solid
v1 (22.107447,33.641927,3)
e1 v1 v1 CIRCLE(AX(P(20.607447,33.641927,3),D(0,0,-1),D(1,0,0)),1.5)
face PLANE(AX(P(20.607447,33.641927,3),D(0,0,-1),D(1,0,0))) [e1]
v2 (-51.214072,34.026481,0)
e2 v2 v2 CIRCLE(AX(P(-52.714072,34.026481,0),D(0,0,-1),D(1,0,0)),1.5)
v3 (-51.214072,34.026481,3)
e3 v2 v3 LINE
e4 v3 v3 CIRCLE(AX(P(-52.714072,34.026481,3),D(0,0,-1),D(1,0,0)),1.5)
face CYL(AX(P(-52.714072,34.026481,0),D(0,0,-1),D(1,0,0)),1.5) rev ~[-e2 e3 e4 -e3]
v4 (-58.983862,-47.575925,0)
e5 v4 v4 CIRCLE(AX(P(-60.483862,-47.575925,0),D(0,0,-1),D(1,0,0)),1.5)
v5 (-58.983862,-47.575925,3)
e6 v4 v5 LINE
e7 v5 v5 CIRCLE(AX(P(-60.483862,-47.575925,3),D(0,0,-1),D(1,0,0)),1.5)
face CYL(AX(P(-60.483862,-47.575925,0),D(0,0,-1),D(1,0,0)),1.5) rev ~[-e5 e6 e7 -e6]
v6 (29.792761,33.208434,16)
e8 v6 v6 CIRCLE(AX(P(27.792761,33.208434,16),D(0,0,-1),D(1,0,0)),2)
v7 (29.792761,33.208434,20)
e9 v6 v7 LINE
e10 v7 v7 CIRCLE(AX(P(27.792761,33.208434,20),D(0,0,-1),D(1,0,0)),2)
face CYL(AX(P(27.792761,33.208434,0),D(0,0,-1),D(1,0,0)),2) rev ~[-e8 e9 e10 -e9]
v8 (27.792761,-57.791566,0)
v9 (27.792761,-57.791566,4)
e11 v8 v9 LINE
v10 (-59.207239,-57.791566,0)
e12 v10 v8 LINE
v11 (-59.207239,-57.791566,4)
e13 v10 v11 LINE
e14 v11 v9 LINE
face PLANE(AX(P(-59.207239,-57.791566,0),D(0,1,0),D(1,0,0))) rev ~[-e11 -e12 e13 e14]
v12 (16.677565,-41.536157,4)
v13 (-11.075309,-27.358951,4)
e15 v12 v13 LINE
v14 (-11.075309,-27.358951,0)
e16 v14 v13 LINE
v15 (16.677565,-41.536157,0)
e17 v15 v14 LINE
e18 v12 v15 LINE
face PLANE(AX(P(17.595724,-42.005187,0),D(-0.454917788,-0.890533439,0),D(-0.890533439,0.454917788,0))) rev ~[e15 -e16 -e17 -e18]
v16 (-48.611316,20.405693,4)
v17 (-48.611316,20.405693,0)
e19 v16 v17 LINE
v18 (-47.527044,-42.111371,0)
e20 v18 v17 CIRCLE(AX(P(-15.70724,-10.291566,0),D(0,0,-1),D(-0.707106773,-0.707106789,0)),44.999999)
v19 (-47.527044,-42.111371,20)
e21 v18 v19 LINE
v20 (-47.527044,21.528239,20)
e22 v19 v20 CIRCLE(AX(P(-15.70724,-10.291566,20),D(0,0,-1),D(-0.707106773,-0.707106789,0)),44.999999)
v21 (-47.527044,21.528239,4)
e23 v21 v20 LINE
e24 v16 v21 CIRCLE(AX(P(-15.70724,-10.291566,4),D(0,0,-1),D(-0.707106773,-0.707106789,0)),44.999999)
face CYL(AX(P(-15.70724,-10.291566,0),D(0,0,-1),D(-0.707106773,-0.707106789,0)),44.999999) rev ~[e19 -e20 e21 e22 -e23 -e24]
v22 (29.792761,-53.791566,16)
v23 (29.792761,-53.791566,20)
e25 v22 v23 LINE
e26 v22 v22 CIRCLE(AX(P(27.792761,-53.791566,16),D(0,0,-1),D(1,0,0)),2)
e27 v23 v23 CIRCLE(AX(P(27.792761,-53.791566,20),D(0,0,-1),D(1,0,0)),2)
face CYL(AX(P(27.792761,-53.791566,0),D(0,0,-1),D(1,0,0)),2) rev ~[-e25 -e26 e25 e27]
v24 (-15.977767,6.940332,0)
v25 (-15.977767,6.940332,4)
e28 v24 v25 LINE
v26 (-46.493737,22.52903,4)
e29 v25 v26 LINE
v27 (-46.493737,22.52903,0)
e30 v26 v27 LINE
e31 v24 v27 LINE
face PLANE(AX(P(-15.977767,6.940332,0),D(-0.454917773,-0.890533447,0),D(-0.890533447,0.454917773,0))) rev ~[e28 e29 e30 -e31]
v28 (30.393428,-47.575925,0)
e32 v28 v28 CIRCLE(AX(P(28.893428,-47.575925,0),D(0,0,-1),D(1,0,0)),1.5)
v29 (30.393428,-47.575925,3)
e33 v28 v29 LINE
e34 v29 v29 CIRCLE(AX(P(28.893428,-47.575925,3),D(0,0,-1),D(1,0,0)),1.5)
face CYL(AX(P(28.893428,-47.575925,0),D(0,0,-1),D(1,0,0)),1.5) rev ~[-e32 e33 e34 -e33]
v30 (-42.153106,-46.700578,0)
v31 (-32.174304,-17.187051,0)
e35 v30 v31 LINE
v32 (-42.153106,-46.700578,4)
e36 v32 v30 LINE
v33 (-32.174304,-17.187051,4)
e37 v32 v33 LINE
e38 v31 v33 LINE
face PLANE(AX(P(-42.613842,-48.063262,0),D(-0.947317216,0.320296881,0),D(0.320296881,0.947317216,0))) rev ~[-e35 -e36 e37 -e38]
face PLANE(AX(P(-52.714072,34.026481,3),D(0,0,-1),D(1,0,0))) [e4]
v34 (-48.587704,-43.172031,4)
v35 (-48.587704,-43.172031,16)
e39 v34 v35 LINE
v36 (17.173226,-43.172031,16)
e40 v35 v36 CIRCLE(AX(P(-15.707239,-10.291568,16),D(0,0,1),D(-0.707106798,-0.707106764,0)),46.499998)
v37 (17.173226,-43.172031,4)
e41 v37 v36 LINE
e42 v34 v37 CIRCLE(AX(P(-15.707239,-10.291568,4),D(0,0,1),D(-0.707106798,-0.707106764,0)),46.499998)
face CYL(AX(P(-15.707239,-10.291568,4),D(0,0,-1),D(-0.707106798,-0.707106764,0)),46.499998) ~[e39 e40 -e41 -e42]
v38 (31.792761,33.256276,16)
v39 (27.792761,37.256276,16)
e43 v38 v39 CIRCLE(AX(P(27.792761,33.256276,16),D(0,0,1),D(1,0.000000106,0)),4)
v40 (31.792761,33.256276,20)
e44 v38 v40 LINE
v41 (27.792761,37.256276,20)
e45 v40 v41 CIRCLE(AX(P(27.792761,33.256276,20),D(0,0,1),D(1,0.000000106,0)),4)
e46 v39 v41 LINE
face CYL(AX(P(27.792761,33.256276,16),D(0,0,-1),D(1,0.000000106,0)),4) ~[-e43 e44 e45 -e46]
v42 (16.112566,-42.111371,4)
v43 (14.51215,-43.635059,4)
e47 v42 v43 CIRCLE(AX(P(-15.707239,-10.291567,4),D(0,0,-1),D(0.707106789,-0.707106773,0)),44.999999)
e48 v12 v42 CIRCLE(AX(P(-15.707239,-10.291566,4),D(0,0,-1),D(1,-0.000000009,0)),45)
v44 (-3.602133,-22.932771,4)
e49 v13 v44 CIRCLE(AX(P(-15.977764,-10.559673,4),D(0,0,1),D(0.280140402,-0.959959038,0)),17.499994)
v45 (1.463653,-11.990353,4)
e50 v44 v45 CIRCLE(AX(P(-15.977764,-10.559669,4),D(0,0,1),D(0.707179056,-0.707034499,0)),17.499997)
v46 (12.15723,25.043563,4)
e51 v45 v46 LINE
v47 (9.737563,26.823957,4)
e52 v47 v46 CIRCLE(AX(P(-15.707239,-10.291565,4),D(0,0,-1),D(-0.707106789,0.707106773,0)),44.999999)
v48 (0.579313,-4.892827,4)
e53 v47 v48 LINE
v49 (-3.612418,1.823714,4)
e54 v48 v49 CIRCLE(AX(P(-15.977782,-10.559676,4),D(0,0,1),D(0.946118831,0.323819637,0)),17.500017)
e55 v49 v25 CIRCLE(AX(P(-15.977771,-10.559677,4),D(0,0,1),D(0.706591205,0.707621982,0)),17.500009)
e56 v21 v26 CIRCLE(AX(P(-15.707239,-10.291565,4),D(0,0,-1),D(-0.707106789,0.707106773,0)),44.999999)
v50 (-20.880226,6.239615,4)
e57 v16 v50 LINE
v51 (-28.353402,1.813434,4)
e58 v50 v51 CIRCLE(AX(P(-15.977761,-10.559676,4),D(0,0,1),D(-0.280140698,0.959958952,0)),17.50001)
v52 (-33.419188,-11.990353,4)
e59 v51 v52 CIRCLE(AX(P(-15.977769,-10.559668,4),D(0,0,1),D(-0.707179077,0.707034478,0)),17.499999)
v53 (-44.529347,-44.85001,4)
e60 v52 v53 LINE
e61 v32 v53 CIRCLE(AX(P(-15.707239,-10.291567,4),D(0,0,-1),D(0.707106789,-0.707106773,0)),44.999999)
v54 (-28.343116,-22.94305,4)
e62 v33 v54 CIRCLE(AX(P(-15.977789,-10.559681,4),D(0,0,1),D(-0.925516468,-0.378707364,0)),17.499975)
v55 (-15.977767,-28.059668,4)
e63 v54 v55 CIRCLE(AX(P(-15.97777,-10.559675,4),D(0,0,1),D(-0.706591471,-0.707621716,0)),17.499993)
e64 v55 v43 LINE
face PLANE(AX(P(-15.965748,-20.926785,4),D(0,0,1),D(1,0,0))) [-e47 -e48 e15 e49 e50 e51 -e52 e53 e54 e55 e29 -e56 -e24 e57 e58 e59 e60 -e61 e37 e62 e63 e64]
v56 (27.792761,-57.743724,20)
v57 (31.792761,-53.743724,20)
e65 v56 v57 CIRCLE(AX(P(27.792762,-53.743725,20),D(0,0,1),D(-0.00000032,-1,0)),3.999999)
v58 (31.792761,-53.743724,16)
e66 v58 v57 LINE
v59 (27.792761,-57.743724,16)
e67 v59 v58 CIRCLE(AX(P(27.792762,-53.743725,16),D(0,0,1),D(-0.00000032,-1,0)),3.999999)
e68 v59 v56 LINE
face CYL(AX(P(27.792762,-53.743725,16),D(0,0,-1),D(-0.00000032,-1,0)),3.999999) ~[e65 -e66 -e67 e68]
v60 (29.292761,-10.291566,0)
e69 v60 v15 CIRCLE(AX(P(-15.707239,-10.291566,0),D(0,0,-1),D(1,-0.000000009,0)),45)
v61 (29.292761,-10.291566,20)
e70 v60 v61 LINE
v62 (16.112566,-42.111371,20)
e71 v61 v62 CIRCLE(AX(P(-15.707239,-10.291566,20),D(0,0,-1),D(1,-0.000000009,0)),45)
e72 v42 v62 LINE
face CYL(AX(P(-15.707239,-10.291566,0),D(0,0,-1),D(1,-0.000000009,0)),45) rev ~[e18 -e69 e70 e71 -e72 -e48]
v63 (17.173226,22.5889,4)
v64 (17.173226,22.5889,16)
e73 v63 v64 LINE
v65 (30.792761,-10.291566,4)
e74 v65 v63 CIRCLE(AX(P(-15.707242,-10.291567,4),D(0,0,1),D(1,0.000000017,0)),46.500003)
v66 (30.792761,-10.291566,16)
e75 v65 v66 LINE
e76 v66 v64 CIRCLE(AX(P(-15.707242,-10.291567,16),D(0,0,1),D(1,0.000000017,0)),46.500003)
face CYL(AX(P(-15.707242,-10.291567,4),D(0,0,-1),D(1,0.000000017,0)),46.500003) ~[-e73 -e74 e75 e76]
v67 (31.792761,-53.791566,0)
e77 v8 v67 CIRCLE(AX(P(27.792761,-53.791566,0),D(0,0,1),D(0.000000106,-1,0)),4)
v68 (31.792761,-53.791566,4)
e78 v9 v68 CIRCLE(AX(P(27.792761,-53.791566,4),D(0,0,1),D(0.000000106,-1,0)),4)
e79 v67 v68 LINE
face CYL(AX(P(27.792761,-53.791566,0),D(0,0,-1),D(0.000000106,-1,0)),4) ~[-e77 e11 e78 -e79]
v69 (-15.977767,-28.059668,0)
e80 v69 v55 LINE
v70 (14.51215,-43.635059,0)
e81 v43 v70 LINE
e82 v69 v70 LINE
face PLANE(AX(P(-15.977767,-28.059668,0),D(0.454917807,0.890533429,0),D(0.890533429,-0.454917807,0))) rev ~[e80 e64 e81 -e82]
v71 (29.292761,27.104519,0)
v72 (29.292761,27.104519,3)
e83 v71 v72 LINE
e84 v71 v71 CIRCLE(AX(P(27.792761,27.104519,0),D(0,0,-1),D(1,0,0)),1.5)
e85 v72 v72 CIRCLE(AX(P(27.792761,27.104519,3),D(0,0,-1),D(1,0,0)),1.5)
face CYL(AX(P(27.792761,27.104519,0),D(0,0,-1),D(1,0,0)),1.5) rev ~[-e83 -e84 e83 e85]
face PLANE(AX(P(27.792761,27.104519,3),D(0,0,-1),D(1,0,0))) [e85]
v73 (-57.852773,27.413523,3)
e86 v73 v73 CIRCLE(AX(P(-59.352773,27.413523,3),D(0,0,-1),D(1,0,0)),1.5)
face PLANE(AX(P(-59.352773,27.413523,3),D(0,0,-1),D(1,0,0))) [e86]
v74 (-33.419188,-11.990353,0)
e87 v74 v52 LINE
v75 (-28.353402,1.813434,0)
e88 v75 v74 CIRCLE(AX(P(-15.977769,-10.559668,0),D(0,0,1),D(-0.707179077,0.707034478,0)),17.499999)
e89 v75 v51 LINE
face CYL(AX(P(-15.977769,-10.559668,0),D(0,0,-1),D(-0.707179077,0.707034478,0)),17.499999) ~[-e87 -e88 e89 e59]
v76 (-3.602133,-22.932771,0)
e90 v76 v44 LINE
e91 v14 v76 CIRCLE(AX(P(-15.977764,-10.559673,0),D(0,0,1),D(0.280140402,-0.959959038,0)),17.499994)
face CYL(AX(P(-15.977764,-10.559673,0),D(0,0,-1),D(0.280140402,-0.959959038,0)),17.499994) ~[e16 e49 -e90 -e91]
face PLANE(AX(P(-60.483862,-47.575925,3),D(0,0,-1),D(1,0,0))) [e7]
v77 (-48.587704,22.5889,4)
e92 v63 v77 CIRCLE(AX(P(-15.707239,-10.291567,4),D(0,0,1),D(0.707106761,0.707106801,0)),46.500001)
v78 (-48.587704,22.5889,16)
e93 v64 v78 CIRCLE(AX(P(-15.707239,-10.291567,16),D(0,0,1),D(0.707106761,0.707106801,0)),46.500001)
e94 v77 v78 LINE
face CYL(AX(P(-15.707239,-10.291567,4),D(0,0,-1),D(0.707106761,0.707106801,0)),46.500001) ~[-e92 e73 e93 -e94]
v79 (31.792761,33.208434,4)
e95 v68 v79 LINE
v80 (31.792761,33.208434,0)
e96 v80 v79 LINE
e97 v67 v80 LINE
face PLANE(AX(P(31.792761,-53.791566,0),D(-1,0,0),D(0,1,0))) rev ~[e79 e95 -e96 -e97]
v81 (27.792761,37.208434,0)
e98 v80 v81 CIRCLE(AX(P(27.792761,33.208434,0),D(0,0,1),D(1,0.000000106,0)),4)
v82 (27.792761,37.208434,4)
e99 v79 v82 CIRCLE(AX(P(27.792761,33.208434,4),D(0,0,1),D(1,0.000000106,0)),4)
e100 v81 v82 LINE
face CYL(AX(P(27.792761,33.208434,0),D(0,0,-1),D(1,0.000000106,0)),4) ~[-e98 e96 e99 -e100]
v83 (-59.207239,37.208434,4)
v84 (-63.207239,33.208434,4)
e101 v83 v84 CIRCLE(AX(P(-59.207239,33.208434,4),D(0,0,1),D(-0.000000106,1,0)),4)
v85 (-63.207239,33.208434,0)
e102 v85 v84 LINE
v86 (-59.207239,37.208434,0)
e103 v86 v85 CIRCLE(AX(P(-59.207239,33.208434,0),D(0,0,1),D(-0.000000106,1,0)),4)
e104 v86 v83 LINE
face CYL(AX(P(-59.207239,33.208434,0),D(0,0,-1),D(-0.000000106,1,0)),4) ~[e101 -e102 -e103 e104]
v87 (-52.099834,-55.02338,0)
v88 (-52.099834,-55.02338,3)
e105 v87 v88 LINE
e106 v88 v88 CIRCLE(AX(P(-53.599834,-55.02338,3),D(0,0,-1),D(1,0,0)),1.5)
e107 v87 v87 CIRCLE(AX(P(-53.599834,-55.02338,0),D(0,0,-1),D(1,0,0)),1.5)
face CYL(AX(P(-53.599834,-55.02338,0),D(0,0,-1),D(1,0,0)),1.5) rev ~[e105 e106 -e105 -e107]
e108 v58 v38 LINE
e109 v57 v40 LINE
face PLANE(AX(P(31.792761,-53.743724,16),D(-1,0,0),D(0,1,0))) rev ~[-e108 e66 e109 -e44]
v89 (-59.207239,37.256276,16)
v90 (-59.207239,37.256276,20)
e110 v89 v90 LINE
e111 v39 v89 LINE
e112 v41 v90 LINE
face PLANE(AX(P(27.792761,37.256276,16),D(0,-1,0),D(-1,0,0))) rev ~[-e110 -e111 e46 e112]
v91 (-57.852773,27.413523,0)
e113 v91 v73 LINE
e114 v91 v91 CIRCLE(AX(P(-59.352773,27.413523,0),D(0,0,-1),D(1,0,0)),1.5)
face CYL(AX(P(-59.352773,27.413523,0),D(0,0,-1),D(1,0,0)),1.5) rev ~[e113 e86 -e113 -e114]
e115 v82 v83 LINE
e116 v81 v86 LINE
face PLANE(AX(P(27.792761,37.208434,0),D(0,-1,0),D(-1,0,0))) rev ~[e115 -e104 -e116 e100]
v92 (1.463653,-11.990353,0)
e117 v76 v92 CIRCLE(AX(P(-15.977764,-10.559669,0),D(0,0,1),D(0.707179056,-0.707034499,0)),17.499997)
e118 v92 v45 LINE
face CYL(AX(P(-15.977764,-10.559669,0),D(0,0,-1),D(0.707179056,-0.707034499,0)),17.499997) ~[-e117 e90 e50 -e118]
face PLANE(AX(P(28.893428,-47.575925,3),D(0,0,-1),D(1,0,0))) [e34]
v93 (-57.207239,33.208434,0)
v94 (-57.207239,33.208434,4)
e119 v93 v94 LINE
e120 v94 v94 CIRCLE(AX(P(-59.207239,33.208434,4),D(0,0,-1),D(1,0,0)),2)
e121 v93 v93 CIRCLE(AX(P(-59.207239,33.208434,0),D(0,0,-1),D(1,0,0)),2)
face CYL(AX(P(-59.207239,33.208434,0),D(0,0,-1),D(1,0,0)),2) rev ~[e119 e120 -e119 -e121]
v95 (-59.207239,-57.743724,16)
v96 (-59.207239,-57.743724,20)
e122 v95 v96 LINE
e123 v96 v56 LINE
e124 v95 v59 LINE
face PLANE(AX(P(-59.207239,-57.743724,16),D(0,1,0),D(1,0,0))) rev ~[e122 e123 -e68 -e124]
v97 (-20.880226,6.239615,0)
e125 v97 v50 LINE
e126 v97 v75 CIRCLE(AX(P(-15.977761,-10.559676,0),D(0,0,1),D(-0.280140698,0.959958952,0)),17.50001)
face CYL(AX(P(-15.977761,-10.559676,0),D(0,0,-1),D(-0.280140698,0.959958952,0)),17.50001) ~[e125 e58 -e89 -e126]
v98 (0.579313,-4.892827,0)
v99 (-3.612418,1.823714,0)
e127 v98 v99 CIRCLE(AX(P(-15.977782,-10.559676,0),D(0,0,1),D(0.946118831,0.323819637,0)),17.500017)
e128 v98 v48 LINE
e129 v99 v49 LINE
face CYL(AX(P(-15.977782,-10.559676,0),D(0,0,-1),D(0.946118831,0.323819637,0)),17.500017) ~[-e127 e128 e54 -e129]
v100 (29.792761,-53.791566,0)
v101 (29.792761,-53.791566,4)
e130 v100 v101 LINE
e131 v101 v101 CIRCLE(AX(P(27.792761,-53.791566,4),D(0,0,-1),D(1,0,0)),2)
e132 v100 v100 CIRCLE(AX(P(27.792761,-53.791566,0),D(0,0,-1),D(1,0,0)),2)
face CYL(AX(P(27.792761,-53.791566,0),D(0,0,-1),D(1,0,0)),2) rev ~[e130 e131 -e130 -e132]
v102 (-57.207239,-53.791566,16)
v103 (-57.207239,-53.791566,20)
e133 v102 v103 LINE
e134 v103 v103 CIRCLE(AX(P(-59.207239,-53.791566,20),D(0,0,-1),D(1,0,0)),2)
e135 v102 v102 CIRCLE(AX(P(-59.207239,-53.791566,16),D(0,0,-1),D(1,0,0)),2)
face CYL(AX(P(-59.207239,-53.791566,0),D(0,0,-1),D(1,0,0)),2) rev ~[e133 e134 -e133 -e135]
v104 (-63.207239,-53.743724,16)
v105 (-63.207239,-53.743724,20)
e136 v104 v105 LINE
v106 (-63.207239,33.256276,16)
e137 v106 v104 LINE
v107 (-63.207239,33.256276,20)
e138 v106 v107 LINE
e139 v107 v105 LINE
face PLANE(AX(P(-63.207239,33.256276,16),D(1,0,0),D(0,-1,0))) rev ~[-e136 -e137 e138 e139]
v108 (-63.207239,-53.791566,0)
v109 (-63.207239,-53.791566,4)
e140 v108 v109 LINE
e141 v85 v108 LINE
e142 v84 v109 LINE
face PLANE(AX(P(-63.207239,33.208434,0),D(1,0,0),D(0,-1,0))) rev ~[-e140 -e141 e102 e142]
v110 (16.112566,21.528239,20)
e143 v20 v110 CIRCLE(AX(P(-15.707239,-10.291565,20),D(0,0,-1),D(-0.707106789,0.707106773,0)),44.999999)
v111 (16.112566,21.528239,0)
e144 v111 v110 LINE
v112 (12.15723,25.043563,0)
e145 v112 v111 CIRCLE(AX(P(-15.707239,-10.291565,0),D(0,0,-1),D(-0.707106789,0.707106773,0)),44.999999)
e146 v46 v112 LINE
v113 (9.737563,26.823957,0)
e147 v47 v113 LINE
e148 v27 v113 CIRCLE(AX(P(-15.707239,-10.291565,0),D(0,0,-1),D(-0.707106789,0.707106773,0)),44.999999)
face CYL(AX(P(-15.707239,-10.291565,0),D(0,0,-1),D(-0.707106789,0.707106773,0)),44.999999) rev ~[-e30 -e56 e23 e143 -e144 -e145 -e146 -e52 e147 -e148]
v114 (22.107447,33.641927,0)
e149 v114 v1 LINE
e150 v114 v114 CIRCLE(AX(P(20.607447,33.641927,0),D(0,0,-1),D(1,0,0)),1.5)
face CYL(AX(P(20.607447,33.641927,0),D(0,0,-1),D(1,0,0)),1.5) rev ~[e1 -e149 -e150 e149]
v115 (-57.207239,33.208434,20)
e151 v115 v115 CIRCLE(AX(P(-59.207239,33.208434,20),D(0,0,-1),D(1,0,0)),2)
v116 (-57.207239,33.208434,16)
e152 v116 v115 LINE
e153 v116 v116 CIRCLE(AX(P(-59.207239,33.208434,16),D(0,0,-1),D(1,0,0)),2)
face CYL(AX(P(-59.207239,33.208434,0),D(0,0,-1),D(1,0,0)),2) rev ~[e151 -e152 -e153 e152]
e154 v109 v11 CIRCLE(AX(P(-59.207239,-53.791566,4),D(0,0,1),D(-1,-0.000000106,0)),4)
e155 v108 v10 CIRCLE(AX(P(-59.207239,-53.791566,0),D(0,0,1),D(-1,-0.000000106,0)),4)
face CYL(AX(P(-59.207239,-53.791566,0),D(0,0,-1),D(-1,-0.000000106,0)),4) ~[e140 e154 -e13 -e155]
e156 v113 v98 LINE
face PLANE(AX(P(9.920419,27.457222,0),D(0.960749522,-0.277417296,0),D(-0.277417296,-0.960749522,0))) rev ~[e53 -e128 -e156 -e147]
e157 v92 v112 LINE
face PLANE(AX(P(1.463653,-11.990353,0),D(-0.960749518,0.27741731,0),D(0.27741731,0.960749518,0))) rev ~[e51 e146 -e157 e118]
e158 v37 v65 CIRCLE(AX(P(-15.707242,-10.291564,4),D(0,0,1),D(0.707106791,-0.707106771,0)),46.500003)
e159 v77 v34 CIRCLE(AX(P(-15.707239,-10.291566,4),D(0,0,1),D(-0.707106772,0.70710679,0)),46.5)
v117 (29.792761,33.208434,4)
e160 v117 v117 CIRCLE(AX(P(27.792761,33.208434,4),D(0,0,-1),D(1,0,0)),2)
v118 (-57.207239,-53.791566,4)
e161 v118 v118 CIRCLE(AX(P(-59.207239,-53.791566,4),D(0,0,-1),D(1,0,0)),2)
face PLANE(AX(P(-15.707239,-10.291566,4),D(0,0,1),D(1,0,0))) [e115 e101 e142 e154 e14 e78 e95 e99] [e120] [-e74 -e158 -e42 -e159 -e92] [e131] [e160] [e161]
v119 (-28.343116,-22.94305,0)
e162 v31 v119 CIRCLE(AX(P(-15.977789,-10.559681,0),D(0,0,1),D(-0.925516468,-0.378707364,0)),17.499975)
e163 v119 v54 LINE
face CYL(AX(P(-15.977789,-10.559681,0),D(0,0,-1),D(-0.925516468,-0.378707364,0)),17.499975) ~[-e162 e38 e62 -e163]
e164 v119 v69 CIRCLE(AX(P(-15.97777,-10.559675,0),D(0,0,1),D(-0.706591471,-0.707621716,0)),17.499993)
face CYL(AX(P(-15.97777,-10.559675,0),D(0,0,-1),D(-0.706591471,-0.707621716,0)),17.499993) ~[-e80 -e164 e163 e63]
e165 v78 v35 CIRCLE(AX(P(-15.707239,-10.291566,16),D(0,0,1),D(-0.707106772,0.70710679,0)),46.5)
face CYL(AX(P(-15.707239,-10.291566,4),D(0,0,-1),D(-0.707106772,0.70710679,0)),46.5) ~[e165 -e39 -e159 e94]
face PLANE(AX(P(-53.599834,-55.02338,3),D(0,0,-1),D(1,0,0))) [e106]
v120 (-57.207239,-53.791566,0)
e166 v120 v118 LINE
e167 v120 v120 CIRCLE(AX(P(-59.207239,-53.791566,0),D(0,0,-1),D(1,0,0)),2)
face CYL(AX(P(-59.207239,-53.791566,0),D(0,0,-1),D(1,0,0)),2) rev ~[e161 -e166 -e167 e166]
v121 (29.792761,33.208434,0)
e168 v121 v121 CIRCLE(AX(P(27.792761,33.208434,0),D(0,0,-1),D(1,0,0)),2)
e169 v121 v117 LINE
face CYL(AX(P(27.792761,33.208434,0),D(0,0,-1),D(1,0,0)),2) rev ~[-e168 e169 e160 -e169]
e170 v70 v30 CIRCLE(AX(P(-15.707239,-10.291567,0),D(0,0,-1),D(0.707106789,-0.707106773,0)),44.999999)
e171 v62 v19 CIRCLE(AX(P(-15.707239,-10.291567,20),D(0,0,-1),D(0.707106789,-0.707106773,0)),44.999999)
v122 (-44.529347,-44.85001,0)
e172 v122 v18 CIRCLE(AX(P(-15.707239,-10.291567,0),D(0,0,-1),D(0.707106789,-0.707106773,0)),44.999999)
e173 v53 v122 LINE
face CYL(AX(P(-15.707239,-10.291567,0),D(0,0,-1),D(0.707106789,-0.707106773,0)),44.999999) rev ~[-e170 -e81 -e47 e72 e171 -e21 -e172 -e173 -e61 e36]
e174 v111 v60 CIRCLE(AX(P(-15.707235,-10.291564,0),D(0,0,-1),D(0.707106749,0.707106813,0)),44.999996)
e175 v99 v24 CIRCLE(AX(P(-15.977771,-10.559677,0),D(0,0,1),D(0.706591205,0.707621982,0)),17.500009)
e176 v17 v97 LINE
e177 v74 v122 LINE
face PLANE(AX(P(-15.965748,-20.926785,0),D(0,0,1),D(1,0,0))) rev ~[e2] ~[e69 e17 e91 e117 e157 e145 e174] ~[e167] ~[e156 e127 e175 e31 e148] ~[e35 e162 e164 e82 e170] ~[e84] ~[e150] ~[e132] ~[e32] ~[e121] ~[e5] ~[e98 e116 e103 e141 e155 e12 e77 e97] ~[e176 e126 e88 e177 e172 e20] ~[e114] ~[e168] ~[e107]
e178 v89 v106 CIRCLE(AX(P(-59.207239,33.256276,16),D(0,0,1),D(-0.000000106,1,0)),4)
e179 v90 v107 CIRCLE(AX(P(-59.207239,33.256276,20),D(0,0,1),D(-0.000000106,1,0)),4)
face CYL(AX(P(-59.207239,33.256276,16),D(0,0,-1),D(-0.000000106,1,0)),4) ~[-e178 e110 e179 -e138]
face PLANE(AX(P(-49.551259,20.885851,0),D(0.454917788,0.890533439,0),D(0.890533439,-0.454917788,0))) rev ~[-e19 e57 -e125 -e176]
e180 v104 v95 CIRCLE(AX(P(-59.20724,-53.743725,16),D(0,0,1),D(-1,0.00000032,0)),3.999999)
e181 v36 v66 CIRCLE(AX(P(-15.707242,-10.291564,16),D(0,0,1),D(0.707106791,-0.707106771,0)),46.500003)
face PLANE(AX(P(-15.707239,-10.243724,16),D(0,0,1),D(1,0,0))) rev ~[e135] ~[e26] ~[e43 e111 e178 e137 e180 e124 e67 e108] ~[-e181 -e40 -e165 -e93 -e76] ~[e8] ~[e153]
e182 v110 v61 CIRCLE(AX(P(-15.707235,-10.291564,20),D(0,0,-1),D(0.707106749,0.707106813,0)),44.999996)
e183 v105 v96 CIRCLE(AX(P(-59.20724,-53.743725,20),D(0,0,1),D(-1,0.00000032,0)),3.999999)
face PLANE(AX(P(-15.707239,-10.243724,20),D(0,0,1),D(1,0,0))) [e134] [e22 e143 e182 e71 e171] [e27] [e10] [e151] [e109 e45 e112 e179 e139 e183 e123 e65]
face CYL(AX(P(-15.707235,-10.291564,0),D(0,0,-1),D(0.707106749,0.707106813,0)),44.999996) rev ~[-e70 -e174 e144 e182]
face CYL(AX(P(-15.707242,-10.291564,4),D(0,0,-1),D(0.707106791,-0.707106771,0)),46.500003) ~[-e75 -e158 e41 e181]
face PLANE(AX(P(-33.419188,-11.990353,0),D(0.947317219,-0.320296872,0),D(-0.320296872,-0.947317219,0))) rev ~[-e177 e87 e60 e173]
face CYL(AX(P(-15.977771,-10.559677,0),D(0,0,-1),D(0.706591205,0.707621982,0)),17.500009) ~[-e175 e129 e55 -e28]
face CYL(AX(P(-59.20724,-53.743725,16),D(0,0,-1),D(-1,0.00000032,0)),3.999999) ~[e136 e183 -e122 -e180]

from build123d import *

# Parameters (mm, degrees)
F1_DEPTH  = 4
F3_DEPTH  = 12
F7_DEPTH  = 4
F8_DEPTH  = 25
F9_R      = 2
F10_DEPTH = 25
F12_DEPTH = 4
F13_R     = 1.5
F14_DEPTH = 3


with BuildPart() as f1:
    # F0 (on Top) → F1 (new body)
    with BuildSketch(Plane.XY):
        with BuildLine():
            Line((27.792761, 37.208434), (-59.207239, 37.208434))
            ThreePointArc((-59.207239, 37.208434), (-62.035666, 36.036861), (-63.207239, 33.208434))
            Line((-63.207239, 33.208434), (-63.207239, -53.791566))
            ThreePointArc((-63.207239, -53.791566), (-62.035666, -56.619993), (-59.207239, -57.791566))
            Line((-59.207239, -57.791566), (27.792761, -57.791566))
            ThreePointArc((27.792761, -57.791566), (30.621188, -56.619993), (31.792761, -53.791566))
            Line((31.792761, -53.791566), (31.792761, 33.208434))
            ThreePointArc((31.792761, 33.208434), (30.621188, 36.036861), (27.792761, 37.208434))
        make_face()
    extrude(amount=F1_DEPTH)

    # F2 (on face) → F3 (join)
    with BuildSketch(Plane.XY.offset(4)):
        with BuildLine():
            ThreePointArc((30.792761, -10.291566), (27.253159, 7.503214), (17.173226, 22.5889))
            Line((17.173226, 22.5889), (-15.707239, -10.291566))
            Line((-15.707239, -10.291566), (17.173226, -43.172031))
            ThreePointArc((17.173226, -43.172031), (27.253159, -28.086345), (30.792761, -10.291566))
        make_face()
        with BuildLine():
            Line((-15.707239, -10.291566), (17.173226, 22.5889))
            ThreePointArc((17.173226, 22.5889), (-15.707239, 36.208434), (-48.587704, 22.5889))
            Line((-48.587704, 22.5889), (-15.707239, -10.291566))
        make_face()
        with BuildLine():
            Line((17.173226, -43.172031), (-15.707239, -10.291566))
            Line((-15.707239, -10.291566), (-48.587704, -43.172031))
            ThreePointArc((-48.587704, -43.172031), (-15.707239, -56.791566), (17.173226, -43.172031))
        make_face()
        with BuildLine():
            Line((-48.587704, -43.172031), (-15.707239, -10.291566))
            Line((-15.707239, -10.291566), (-48.587704, 22.5889))
            ThreePointArc((-48.587704, 22.5889), (-62.207239, -10.291566), (-48.587704, -43.172031))
        make_face()
    extrude(amount=F3_DEPTH)

    # F6 (on offset) → F7 (join)
    with BuildSketch(Plane.XY.offset(16)):
        with BuildLine():
            ThreePointArc((-59.207239, 37.256276), (-62.035666, 36.084703), (-63.207239, 33.256276))
            Line((-63.207239, 33.256276), (-63.207239, -53.743724))
            ThreePointArc((-63.207239, -53.743724), (-62.035666, -56.572152), (-59.207239, -57.743724))
            Line((-59.207239, -57.743724), (27.792761, -57.743724))
            ThreePointArc((27.792761, -57.743724), (30.621188, -56.572152), (31.792761, -53.743724))
            Line((31.792761, -53.743724), (31.792761, 33.256276))
            ThreePointArc((31.792761, 33.256276), (30.621188, 36.084703), (27.792761, 37.256276))
            Line((27.792761, 37.256276), (-59.207239, 37.256276))
        make_face()
    extrude(amount=F7_DEPTH)

    # F4 (on face) → F8 (cut)
    with BuildSketch(Plane(origin=(0, 0, 0), x_dir=(1, 0, 0), z_dir=(0, 0, -1))):
        with BuildLine():
            ThreePointArc((16.112566, 42.111371), (-15.707239, 55.291566), (-47.527044, 42.111371))
            Line((-47.527044, 42.111371), (-15.707239, 10.291566))
            Line((-15.707239, 10.291566), (16.112566, 42.111371))
        make_face()
        with BuildLine():
            Line((-15.707239, 10.291566), (-47.527044, 42.111371))
            ThreePointArc((-47.527044, 42.111371), (-60.707239, 10.291566), (-47.527044, -21.528239))
            Line((-47.527044, -21.528239), (-15.707239, 10.291566))
        make_face()
        with BuildLine():
            Line((16.112566, 42.111371), (-15.707239, 10.291566))
            Line((-15.707239, 10.291566), (16.112566, -21.528239))
            ThreePointArc((16.112566, -21.528239), (25.86734, -6.929189), (29.292761, 10.291566))
            ThreePointArc((29.292761, 10.291566), (25.86734, 27.51232), (16.112566, 42.111371))
        make_face()
        with BuildLine():
            Line((16.112566, -21.528239), (-15.707239, 10.291566))
            Line((-15.707239, 10.291566), (-47.527044, -21.528239))
            ThreePointArc((-47.527044, -21.528239), (-15.707239, -34.708434), (16.112566, -21.528239))
        make_face()
    extrude(amount=-F8_DEPTH, mode=Mode.SUBTRACT)

    # F9 (on face) → F10 (cut)
    with BuildSketch(Plane(origin=(0, 0, 0), x_dir=(1, 0, 0), z_dir=(0, 0, -1))):
        with Locations((27.792761, 53.791566)):
            Circle(F9_R)
        with Locations((27.792761, -33.208434)):
            Circle(F9_R)
        with Locations((-59.207239, 53.791566)):
            Circle(F9_R)
        with Locations((-59.207239, -33.208434)):
            Circle(F9_R)
    extrude(amount=-F10_DEPTH, mode=Mode.SUBTRACT)

    # F11 (on Top) → F12 (join)
    with BuildSketch(Plane.XY):
        with BuildLine():
            ThreePointArc((-11.075309, -27.358951), (-7.059758, -25.616863), (-3.602133, -22.932771))
            Line((-3.602133, -22.932771), (-15.977767, -10.559668))
            Line((-15.977767, -10.559668), (-28.343116, -22.94305))
            ThreePointArc((-28.343116, -22.94305), (-22.668837, -26.729999), (-15.977767, -28.059668))
            ThreePointArc((-15.977767, -28.059668), (-13.501626, -27.883603), (-11.075309, -27.358951))
        make_face()
        with BuildLine():
            Line((-15.977767, -10.559668), (-3.602133, -22.932771))
            ThreePointArc((-3.602133, -22.932771), (-0.097014, -17.911653), (1.463653, -11.990353))
            ThreePointArc((1.463653, -11.990353), (1.507582, -11.27561), (1.522233, -10.559668))
            ThreePointArc((1.522233, -10.559668), (1.284893, -7.687292), (0.579313, -4.892827))
            ThreePointArc((0.579313, -4.892827), (-1.131734, -1.294395), (-3.612418, 1.823714))
            Line((-3.612418, 1.823714), (-15.977767, -10.559668))
        make_face()
        with BuildLine():
            Line((-28.343116, -22.94305), (-15.977767, -10.559668))
            Line((-15.977767, -10.559668), (-28.353402, 1.813434))
            ThreePointArc((-28.353402, 1.813434), (-32.406411, -4.530599), (-33.419188, -11.990353))
            ThreePointArc((-33.419188, -11.990353), (-32.996271, -14.636499), (-32.174304, -17.187051))
            ThreePointArc((-32.174304, -17.187051), (-30.545822, -20.256152), (-28.343116, -22.94305))
        make_face()
        with BuildLine():
            Line((-28.353402, 1.813434), (-15.977767, -10.559668))
            Line((-15.977767, -10.559668), (-3.612418, 1.823714))
            ThreePointArc((-3.612418, 1.823714), (-9.286698, 5.610662), (-15.977767, 6.940332))
            ThreePointArc((-15.977767, 6.940332), (-18.453909, 6.764267), (-20.880226, 6.239615))
            ThreePointArc((-20.880226, 6.239615), (-24.895777, 4.497526), (-28.353402, 1.813434))
        make_face()
        with BuildLine():
            Line((17.595724, -42.005187), (-11.075309, -27.358951))
            ThreePointArc((-11.075309, -27.358951), (-13.501626, -27.883603), (-15.977767, -28.059668))
            Line((-15.977767, -28.059668), (15.474621, -44.126725))
            Line((15.474621, -44.126725), (17.595724, -42.005187))
        make_face()
        with BuildLine():
            ThreePointArc((1.522233, -10.559668), (1.507582, -11.27561), (1.463653, -11.990353))
            Line((1.463653, -11.990353), (12.343387, 25.688259))
            Line((12.343387, 25.688259), (9.920419, 27.457222))
            Line((9.920419, 27.457222), (0.579313, -4.892827))
            ThreePointArc((0.579313, -4.892827), (1.284893, -7.687292), (1.522233, -10.559668))
        make_face()
        with BuildLine():
            ThreePointArc((15.474621, -44.126725), (16.552472, -43.083252), (17.595724, -42.005187))
            Line((17.595724, -42.005187), (15.474621, -44.126725))
        make_face()
        with BuildLine():
            Line((9.920419, 27.457222), (12.343387, 25.688259))
            ThreePointArc((12.343387, 25.688259), (11.146328, 26.592498), (9.920419, 27.457222))
        make_face()
        with BuildLine():
            Line((-49.551259, 20.885851), (-20.880226, 6.239615))
            ThreePointArc((-20.880226, 6.239615), (-18.453909, 6.764267), (-15.977767, 6.940332))
            Line((-15.977767, 6.940332), (-47.430156, 23.007388))
            Line((-47.430156, 23.007388), (-49.551259, 20.885851))
        make_face()
        with BuildLine():
            ThreePointArc((-32.174304, -17.187051), (-32.996271, -14.636499), (-33.419188, -11.990353))
            Line((-33.419188, -11.990353), (-45.001782, -46.247293))
            Line((-45.001782, -46.247293), (-42.613842, -48.063262))
            Line((-42.613842, -48.063262), (-32.174304, -17.187051))
        make_face()
        with BuildLine():
            ThreePointArc((-47.430156, 23.007388), (-48.508007, 21.963916), (-49.551259, 20.885851))
            Line((-49.551259, 20.885851), (-47.430156, 23.007388))
        make_face()
        with BuildLine():
            Line((-42.613842, -48.063262), (-45.001782, -46.247293))
            ThreePointArc((-45.001782, -46.247293), (-43.82262, -47.17475), (-42.613842, -48.063262))
        make_face()
    extrude(amount=F12_DEPTH)

    # F13 (on face) → F14 (cut)
    with BuildSketch(Plane(origin=(0, 0, 0), x_dir=(1, 0, 0), z_dir=(0, 0, -1))):
        with Locations((28.893428, 47.575925)):
            Circle(F13_R)
        with Locations((-53.599834, 55.02338)):
            Circle(F13_R)
        with Locations((-60.483862, 47.575925)):
            Circle(F13_R)
        with Locations((27.792761, -27.104519)):
            Circle(F13_R)
        with Locations((-59.352773, -27.413523)):
            Circle(F13_R)
        with Locations((-52.714072, -34.026481)):
            Circle(F13_R)
        with Locations((20.607447, -33.641927)):
            Circle(F13_R)
    extrude(amount=-F14_DEPTH, mode=Mode.SUBTRACT)


solid = f1.part
